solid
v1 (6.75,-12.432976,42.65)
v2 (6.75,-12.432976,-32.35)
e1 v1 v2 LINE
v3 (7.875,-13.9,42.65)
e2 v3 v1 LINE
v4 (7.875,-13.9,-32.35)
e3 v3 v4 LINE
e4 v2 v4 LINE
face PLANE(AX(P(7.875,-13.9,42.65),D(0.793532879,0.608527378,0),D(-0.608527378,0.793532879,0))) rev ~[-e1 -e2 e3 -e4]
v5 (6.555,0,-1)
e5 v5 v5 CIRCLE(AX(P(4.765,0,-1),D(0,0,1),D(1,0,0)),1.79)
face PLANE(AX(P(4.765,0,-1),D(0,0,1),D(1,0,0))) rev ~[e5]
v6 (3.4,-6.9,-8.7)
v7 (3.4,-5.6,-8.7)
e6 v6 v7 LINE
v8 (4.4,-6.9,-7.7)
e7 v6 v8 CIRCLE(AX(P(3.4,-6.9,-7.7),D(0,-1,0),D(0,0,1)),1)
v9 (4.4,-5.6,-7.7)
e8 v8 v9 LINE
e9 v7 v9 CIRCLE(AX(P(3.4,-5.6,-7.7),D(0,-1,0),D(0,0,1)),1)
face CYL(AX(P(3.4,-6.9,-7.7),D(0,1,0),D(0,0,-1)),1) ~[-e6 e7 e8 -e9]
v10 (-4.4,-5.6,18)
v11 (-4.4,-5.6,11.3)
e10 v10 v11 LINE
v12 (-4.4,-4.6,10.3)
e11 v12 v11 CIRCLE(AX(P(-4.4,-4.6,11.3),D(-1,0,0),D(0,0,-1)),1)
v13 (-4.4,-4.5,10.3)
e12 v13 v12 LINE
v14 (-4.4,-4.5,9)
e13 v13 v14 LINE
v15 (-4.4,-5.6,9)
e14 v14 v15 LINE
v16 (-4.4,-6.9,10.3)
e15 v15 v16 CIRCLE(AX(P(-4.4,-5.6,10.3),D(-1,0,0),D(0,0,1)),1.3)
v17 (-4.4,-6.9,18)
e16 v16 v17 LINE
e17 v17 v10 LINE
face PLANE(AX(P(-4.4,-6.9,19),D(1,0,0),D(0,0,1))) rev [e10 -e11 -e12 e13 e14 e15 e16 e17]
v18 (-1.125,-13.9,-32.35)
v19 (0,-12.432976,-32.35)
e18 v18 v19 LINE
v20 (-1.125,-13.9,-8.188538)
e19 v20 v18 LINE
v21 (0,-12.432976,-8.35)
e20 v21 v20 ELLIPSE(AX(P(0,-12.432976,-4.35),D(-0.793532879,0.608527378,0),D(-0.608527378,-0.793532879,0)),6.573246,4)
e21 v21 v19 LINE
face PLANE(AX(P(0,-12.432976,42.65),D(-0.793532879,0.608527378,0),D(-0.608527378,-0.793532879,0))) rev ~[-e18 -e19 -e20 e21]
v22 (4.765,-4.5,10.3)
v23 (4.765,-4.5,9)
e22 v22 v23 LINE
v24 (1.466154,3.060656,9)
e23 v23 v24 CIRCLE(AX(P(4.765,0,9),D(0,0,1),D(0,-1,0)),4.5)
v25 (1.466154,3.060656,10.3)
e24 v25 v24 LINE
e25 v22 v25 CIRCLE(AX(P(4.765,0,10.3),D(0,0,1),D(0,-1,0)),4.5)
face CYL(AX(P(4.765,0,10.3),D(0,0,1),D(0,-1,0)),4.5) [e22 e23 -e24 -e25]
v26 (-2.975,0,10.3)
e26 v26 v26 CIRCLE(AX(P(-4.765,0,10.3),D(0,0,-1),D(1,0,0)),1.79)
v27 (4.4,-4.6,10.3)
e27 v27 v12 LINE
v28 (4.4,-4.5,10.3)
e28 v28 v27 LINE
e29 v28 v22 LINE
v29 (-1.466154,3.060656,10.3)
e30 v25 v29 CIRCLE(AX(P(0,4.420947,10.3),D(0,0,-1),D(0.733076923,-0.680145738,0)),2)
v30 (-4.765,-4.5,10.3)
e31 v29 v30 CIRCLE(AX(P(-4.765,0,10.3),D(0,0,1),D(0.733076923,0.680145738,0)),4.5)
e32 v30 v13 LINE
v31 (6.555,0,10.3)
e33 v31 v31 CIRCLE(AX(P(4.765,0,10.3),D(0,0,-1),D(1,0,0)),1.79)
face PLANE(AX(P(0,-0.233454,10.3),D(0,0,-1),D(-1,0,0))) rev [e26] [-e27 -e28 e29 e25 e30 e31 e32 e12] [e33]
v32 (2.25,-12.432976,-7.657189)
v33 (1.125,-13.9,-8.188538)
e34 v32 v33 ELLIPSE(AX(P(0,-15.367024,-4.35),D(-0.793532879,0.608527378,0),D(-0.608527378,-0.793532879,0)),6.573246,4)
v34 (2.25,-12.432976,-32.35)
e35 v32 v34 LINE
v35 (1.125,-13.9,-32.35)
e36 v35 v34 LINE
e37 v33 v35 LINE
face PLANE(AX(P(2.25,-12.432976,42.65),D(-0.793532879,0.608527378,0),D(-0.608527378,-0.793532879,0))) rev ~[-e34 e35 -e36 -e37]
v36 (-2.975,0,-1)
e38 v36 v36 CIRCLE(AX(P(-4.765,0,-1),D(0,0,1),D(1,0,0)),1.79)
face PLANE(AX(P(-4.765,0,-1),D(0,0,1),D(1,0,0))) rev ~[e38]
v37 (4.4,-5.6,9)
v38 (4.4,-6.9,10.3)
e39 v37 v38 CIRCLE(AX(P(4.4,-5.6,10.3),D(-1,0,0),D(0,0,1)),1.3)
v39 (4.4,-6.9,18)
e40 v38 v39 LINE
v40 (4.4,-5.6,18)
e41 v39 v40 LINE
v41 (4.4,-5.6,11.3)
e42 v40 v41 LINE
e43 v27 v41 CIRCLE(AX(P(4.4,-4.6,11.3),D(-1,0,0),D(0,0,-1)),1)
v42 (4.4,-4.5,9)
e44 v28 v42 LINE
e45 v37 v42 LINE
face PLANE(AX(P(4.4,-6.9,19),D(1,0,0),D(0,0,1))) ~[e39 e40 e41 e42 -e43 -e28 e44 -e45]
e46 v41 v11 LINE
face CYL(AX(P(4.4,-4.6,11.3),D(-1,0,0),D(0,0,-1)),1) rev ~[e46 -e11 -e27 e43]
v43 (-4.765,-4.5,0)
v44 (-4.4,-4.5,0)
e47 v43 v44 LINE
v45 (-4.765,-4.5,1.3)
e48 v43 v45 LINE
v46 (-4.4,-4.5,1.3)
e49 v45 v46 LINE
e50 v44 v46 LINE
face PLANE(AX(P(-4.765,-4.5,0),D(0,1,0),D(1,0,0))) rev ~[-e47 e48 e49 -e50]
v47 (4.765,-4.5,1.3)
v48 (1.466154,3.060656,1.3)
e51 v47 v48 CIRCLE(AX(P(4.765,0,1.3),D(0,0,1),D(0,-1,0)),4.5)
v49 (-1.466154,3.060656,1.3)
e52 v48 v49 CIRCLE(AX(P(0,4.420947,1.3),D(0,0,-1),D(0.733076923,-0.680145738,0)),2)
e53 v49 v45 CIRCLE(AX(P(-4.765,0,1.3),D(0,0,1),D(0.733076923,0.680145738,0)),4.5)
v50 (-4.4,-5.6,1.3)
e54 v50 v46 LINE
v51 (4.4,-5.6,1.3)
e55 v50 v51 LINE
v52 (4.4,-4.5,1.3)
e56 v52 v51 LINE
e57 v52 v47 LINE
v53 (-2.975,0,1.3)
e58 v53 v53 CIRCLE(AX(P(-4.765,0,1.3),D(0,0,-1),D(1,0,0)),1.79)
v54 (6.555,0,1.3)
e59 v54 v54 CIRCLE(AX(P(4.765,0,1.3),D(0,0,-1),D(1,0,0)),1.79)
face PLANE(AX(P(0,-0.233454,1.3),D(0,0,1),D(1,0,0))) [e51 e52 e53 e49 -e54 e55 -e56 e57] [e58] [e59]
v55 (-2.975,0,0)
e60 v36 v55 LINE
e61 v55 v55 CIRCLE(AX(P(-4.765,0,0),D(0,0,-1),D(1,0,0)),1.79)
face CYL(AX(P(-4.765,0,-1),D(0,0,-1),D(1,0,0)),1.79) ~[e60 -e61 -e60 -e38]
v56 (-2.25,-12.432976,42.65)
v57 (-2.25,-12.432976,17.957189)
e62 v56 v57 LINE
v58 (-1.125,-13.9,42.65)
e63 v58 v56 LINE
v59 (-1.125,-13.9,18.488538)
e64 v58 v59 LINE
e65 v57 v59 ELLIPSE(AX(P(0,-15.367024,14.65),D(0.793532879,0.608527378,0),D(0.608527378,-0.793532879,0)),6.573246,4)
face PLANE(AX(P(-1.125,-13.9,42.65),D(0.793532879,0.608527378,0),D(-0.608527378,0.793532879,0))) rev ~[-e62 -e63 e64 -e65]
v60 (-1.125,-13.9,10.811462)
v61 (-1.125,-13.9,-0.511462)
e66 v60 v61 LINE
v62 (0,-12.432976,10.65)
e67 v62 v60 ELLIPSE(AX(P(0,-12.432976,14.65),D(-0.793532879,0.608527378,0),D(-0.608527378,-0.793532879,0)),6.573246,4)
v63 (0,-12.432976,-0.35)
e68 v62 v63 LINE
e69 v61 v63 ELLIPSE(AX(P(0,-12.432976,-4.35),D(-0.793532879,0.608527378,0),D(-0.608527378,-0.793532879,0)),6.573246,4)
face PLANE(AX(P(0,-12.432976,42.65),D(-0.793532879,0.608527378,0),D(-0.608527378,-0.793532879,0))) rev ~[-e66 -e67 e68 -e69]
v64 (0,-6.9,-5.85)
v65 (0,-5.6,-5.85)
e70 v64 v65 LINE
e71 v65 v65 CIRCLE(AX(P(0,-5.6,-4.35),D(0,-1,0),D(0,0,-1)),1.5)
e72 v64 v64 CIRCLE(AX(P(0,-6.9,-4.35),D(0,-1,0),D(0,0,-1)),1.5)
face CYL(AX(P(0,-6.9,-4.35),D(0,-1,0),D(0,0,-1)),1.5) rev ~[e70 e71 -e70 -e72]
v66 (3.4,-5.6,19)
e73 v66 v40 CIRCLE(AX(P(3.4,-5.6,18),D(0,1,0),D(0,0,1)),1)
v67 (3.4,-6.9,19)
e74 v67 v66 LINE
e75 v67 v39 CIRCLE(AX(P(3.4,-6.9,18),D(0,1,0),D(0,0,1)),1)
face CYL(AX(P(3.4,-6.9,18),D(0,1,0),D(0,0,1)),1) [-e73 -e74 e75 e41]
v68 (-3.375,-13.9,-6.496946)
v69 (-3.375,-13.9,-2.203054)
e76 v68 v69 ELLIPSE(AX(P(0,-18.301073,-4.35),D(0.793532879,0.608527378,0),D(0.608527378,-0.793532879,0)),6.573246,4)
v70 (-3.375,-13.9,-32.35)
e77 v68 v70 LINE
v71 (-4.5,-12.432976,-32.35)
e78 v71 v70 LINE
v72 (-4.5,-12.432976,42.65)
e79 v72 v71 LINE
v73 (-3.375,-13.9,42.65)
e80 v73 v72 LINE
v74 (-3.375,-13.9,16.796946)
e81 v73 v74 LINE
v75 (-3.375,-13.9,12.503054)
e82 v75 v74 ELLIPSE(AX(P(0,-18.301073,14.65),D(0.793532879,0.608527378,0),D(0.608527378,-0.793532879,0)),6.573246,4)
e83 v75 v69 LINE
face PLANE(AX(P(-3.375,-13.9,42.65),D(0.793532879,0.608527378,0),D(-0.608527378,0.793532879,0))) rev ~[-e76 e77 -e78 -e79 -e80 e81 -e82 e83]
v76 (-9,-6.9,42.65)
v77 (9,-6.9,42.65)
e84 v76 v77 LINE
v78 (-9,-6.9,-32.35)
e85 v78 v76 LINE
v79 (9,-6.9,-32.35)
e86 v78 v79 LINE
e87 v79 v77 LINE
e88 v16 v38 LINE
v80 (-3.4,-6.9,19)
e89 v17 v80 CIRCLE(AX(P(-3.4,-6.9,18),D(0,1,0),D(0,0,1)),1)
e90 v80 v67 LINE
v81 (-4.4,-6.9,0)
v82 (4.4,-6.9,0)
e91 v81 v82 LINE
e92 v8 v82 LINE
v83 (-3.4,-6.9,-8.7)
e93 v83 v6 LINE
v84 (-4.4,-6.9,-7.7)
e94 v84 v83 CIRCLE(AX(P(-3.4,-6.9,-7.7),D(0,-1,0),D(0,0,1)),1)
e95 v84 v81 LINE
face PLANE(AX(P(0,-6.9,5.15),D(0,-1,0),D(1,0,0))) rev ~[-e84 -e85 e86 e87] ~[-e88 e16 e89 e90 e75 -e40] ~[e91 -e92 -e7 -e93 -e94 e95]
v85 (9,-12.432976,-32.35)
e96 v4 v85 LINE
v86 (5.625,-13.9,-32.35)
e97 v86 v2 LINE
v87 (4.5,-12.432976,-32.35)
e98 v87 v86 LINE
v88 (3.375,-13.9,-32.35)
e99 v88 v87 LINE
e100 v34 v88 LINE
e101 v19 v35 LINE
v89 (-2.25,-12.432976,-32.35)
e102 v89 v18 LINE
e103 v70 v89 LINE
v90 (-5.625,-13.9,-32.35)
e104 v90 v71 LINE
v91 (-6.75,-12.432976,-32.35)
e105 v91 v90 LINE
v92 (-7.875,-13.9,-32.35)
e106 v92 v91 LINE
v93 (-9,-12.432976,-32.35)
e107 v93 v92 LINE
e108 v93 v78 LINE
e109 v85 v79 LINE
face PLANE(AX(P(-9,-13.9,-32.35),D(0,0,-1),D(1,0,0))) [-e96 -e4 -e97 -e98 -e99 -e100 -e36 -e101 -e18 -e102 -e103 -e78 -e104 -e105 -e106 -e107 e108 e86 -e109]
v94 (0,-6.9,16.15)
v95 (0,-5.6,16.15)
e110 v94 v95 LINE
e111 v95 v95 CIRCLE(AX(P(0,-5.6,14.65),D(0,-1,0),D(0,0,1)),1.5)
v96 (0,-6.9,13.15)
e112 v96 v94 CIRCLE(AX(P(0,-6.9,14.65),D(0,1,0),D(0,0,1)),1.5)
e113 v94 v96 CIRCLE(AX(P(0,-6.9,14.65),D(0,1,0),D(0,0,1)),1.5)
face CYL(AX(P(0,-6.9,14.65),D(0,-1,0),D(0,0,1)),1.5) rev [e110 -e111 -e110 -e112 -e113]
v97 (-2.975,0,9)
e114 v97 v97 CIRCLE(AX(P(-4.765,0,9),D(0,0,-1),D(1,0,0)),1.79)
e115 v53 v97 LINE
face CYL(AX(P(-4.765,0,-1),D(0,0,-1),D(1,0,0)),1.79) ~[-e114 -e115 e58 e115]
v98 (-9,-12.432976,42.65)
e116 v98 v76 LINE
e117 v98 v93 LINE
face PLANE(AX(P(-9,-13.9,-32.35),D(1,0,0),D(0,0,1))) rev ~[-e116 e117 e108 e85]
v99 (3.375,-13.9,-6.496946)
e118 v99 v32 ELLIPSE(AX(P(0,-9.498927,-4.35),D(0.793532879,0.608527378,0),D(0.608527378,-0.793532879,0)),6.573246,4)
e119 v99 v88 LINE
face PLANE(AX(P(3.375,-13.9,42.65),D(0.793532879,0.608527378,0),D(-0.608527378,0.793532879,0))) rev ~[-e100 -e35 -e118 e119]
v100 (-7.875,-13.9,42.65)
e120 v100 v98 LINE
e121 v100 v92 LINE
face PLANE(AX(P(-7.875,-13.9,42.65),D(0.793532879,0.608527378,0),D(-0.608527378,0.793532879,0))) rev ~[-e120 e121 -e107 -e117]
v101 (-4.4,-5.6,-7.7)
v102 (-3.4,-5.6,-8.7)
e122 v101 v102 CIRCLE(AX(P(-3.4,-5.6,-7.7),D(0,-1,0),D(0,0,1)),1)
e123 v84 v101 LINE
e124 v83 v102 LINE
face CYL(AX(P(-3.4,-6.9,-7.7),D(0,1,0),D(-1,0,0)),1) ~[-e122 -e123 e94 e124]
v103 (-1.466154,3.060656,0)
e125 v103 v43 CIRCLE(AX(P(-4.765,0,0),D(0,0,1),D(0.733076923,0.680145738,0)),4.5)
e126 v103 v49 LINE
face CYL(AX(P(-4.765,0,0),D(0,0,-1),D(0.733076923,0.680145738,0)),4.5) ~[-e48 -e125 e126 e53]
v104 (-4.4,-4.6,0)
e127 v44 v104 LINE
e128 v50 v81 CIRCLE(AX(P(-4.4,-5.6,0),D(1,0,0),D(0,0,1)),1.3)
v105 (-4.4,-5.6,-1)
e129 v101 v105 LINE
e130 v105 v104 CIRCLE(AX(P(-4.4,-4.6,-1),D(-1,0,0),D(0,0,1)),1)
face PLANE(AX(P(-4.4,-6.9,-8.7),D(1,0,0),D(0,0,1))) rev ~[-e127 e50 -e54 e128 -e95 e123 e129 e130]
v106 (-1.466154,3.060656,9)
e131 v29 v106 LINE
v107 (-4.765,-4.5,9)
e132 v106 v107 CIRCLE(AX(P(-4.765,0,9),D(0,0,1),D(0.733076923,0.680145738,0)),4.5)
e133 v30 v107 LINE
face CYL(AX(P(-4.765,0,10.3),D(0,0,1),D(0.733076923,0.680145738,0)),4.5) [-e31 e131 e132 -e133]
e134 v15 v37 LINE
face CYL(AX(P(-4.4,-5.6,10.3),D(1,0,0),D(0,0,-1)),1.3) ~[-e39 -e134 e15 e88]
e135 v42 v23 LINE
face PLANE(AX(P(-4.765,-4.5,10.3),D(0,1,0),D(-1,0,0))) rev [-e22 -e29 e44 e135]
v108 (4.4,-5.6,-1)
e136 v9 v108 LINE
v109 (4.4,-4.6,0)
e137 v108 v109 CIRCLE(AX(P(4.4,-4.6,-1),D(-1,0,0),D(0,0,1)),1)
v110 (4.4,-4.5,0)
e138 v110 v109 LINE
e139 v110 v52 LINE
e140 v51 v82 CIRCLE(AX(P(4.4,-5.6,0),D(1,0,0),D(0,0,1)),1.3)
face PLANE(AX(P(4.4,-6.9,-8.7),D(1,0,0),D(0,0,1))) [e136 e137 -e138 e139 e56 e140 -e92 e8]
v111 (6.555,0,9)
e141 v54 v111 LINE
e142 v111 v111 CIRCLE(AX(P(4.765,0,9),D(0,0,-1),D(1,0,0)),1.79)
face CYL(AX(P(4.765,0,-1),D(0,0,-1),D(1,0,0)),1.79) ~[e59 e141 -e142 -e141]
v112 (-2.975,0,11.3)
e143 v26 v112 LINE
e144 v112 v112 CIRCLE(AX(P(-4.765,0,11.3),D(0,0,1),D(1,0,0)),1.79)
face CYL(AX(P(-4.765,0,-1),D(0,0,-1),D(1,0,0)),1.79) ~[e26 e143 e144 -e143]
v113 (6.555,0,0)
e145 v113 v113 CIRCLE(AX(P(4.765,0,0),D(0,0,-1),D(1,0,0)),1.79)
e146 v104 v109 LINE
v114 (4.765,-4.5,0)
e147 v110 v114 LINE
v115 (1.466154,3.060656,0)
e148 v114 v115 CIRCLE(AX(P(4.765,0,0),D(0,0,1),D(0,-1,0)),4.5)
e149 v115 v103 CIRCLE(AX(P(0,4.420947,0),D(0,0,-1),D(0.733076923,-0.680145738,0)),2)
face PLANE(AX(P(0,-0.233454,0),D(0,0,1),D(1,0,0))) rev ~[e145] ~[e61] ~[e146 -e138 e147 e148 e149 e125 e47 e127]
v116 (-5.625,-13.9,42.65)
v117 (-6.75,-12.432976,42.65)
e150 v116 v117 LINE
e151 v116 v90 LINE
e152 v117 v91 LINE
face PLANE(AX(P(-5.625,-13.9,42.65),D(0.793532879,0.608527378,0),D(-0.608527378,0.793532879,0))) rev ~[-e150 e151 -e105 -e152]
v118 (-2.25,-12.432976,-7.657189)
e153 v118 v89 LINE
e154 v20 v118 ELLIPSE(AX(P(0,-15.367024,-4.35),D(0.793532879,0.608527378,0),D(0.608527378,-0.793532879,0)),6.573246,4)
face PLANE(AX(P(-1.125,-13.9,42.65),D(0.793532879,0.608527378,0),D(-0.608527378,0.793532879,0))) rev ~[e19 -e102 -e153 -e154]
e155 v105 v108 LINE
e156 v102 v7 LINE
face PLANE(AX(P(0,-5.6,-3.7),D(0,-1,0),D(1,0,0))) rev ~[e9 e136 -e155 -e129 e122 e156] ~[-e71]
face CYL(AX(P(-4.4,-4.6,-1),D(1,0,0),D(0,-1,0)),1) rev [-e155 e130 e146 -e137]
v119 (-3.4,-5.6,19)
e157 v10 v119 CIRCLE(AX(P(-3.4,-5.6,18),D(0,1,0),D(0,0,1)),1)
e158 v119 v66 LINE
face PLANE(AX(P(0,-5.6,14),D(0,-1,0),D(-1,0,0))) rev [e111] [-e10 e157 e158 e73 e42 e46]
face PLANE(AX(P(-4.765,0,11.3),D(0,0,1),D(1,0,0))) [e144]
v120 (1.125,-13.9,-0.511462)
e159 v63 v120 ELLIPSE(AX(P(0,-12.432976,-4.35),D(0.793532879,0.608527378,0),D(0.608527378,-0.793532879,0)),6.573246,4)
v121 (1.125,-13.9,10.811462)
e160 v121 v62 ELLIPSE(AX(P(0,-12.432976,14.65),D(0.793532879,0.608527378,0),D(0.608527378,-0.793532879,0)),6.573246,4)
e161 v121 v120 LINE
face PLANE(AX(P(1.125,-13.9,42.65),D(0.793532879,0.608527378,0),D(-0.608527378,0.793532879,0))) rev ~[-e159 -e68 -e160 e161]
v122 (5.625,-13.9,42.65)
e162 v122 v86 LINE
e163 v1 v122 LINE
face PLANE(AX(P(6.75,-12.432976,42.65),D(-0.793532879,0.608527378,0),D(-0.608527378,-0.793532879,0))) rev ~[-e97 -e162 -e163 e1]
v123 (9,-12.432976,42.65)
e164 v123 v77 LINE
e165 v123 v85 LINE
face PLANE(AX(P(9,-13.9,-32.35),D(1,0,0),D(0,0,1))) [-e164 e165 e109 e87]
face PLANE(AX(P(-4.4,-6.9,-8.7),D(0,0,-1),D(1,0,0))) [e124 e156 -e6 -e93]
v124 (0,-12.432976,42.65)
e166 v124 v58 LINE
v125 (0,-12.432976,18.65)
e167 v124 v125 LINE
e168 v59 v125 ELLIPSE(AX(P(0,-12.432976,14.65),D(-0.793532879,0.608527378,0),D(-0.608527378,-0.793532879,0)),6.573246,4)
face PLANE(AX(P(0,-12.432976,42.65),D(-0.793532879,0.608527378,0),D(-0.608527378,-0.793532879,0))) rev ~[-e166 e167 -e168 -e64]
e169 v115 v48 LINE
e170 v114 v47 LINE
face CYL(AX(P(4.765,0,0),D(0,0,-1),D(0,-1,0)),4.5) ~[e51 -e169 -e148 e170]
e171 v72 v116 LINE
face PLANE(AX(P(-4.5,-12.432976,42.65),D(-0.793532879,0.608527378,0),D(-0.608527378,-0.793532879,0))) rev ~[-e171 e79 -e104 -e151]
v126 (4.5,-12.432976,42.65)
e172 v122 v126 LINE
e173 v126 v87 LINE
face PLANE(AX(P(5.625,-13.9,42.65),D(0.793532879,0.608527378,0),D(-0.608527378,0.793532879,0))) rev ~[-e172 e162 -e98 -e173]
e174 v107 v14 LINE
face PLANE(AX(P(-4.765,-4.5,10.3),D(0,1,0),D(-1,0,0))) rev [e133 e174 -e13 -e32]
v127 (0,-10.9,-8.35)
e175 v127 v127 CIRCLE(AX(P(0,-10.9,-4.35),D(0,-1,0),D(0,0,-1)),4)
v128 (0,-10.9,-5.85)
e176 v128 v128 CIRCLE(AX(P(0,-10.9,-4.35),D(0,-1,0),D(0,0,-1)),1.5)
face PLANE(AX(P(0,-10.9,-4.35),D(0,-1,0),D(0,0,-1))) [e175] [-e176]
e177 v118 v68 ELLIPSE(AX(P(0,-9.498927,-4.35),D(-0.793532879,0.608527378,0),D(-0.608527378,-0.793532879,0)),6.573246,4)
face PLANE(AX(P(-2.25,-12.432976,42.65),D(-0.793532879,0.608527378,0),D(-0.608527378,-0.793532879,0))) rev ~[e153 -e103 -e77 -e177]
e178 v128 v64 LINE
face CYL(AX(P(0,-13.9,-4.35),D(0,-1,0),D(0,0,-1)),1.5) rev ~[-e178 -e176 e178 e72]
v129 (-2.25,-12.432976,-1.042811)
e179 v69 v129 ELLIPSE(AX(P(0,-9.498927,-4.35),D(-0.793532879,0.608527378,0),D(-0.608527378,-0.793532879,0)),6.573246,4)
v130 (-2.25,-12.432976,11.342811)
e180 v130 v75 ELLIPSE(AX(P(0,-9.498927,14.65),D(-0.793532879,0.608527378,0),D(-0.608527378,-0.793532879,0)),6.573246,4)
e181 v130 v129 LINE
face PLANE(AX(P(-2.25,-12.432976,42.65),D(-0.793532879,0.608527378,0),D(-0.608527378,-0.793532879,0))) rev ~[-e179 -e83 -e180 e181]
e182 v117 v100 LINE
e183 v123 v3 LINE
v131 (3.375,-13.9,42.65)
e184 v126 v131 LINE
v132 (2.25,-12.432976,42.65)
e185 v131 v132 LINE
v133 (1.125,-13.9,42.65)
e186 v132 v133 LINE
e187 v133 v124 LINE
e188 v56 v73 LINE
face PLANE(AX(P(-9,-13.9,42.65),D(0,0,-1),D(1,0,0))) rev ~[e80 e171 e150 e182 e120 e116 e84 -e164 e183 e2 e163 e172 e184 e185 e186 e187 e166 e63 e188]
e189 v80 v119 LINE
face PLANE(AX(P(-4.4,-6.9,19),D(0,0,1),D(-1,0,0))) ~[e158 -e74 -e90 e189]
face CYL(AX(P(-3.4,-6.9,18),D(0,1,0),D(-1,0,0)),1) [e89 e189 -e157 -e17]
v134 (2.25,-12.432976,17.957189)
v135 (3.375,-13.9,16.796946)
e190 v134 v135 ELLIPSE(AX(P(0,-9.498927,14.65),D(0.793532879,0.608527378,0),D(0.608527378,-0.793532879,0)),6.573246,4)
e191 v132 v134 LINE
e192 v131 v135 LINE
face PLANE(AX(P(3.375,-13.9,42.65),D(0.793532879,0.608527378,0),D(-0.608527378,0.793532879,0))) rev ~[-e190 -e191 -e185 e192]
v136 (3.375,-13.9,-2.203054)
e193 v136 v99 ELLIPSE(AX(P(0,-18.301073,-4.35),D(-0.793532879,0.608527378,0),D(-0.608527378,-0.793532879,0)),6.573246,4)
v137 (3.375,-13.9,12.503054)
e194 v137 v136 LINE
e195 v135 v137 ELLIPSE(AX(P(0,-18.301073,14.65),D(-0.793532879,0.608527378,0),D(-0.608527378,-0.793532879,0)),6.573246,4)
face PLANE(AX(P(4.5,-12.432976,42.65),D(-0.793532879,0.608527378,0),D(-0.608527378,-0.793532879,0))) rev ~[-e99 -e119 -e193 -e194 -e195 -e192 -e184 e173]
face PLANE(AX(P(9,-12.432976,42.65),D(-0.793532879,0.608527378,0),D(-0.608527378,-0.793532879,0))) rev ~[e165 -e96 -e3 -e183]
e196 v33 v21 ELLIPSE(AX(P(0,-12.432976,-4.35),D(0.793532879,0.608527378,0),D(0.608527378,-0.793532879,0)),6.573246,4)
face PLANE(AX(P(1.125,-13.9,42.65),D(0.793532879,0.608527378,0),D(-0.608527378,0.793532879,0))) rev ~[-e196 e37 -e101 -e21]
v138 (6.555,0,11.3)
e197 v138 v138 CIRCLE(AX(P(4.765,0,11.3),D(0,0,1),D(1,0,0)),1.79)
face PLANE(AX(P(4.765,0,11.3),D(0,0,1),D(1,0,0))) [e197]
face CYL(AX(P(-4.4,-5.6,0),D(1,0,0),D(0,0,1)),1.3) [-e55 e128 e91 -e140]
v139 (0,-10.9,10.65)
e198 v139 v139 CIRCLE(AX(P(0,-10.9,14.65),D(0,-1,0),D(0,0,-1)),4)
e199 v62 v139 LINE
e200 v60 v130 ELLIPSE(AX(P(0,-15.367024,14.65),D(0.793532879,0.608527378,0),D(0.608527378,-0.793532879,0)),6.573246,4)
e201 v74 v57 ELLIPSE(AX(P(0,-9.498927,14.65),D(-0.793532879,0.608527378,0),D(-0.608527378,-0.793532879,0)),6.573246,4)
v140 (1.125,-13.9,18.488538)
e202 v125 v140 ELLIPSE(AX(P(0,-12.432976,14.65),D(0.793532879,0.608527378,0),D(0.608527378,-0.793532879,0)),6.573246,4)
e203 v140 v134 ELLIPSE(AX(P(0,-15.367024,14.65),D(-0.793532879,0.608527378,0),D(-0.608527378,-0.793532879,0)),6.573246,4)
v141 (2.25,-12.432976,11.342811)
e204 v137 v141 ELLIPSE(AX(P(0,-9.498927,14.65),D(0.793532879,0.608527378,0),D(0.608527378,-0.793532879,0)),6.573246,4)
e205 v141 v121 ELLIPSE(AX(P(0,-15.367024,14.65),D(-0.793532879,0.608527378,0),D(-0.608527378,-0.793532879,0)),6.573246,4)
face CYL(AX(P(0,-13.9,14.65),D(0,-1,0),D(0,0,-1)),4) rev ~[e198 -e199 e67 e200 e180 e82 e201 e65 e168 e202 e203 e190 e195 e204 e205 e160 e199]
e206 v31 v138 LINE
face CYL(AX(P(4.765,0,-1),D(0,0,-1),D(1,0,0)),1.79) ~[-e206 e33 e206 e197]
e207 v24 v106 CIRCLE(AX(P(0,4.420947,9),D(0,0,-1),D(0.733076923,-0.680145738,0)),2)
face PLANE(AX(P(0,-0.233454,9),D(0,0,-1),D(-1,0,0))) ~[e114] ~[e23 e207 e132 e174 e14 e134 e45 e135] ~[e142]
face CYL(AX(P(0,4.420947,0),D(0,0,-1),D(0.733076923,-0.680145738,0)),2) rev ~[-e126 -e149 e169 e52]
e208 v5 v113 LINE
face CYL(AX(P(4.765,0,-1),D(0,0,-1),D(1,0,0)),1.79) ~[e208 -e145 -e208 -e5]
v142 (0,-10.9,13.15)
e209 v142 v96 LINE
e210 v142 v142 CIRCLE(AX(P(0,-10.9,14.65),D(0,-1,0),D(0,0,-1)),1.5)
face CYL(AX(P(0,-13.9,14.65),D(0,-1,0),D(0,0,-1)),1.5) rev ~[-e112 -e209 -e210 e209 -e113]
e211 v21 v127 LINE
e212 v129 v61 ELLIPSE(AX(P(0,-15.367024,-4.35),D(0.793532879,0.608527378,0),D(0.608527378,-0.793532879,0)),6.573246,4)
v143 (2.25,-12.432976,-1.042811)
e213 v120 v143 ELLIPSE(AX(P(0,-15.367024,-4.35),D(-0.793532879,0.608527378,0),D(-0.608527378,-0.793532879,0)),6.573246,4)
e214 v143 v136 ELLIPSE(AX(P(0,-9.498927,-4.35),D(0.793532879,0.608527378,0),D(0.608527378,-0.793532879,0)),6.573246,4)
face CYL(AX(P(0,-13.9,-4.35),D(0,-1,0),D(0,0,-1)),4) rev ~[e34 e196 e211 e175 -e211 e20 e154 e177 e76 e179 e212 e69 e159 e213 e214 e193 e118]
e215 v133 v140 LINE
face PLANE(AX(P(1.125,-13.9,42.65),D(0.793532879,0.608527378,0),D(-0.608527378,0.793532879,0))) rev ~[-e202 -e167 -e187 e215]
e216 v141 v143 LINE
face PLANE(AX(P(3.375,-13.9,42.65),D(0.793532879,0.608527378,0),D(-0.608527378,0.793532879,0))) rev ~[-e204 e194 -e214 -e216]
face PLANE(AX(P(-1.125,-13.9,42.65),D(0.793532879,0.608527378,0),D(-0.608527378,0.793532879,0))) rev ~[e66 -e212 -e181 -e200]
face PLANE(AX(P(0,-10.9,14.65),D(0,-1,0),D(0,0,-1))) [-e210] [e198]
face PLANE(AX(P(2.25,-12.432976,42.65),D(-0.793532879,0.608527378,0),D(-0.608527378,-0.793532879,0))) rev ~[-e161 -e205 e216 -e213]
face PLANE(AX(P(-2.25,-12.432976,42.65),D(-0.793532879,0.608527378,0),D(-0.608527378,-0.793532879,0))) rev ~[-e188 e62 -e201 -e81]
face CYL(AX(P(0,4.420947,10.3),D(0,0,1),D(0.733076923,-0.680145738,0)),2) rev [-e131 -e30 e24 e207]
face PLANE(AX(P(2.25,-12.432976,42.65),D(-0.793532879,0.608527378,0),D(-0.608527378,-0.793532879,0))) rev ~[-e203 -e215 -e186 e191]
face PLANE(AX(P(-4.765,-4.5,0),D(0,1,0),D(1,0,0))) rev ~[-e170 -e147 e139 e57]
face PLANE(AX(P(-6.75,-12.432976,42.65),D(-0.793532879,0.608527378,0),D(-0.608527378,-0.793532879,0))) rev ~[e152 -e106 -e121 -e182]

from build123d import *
from build123d.topology import SkipClean

# Parameters (mm, degrees)
BOSS_EXTRUDE1_DEPTH      = 1.3
BOSS_EXTRUDE2_DEPTH      = 10
BOSS_EXTRUDE2_DEPTH_BACK = 2.3
SKETCH2_R                = 1.79
SKETCH4_W                = 8.8
SKETCH4_H                = 1.3
BOSS_EXTRUDE4_DEPTH      = 2.4
SKETCH3_W                = 8.8
SKETCH3_H                = 10
BOSS_EXTRUDE3_DEPTH      = 1.3
FILLET4_R                = 1.3
FILLET6_R                = 1
SKETCH5_R                = 1.5
CUT_EXTRUDE1_DEPTH       = 2.4
FILLET7_R                = 1
FILLET4_OF_MIRROR1_R     = 1.3
FILLET6_OF_MIRROR1_R     = 1
FILLET7_OF_MIRROR1_R     = 1
BOSS_EXTRUDE5_START      = 7
SKETCH6_W                = 18
SKETCH6_H                = 75
SKETCH6_R                = 1.5
BOSS_EXTRUDE5_DEPTH      = 7
SKETCH9_R                = 4
CUT_EXTRUDE3_DEPTH       = 3
CUT_EXTRUDE4_DEPTH       = 77.837817675


with BuildPart() as part:
    # Sketch1 → Boss-Extrude1 (new body)
    with BuildSketch(Plane.XY):
        with BuildLine():
            Line((-4.765, -4.5), (4.765, -4.5))
            ThreePointArc((4.765, -4.5), (8.889497011, 1.799590065), (1.466153846, 3.060655821))
            ThreePointArc((1.466153846, 3.060655821), (0, 2.420947297), (-1.466153846, 3.060655821))
            ThreePointArc((-1.466153846, 3.060655821), (-8.889497011, 1.799590065), (-4.765, -4.5))
        make_face()
    boss_extrude1 = extrude(amount=BOSS_EXTRUDE1_DEPTH)

    # Sketch2 → Boss-Extrude2 (add, two sides: drawn at the far end of the back side and taken through both)
    with BuildSketch(Plane.XY.offset(1.3).offset(-BOSS_EXTRUDE2_DEPTH_BACK)):
        with Locations((-4.765, 0)):
            Circle(SKETCH2_R)
        with Locations((4.765, 0)):
            Circle(SKETCH2_R)
    extrude(amount=BOSS_EXTRUDE2_DEPTH + BOSS_EXTRUDE2_DEPTH_BACK)

    # Sketch4 → Boss-Extrude4 (add)
    with BuildSketch(Plane.XZ.offset(4.5)):
        with Locations((0, 0.65)):
            Rectangle(SKETCH4_W, SKETCH4_H)
    boss_extrude4 = extrude(amount=BOSS_EXTRUDE4_DEPTH)

    # Sketch3 → Boss-Extrude3 (add)
    with BuildSketch(Plane.XZ.offset(6.9)):
        with Locations((0, -3.7)):
            Rectangle(SKETCH3_W, SKETCH3_H)
    boss_extrude3 = extrude(amount=-BOSS_EXTRUDE3_DEPTH)

    # Fillet4
    fillet4_edges = [part.edges().sort_by_distance(p)[0] for p in [
        (0, -6.9, 1.3),
    ]]
    fillet(fillet4_edges, radius=FILLET4_R)

    # Fillet6
    fillet6_edges = [part.edges().sort_by_distance(p)[0] for p in [
        (0, -5.6, 0),
    ]]
    fillet(fillet6_edges, radius=FILLET6_R)

    # Sketch5 → Cut-Extrude1 (cut)
    with BuildSketch(Plane.XZ.offset(6.9)):
        with Locations(Location((0, -4.35, 0), (0, 0, 270))):
            Circle(SKETCH5_R)
    cut_extrude1 = extrude(amount=-CUT_EXTRUDE1_DEPTH, mode=Mode.SUBTRACT)

    # Fillet7
    fillet7_edges = [part.edges().sort_by_distance(p)[0] for p in [
        (-4.4, -6.25, -8.7),
        (4.4, -6.25, -8.7),
    ]]
    fillet(fillet7_edges, radius=FILLET7_R)

    # Mirror1: Boss-Extrude1, Boss-Extrude4, Boss-Extrude3, Cut-Extrude1 across plane
    add(boss_extrude1.mirror(Plane(origin=(0, 0, 5.15), x_dir=(1, 0, 0), z_dir=(0, 0, -1))))
    add(boss_extrude4.mirror(Plane(origin=(0, 0, 5.15), x_dir=(1, 0, 0), z_dir=(0, 0, -1))))
    add(boss_extrude3.mirror(Plane(origin=(0, 0, 5.15), x_dir=(1, 0, 0), z_dir=(0, 0, -1))))
    add(cut_extrude1.mirror(Plane(origin=(0, 0, 5.15), x_dir=(1, 0, 0), z_dir=(0, 0, -1))), mode=Mode.SUBTRACT)

    # Fillet4 of Mirror1
    fillet4_of_mirror1_edges = [part.edges().sort_by_distance(p)[0] for p in [
        (0, -6.9, 9),
    ]]
    fillet(fillet4_of_mirror1_edges, radius=FILLET4_OF_MIRROR1_R)

    # Fillet6 of Mirror1
    fillet6_of_mirror1_edges = [part.edges().sort_by_distance(p)[0] for p in [
        (0, -5.6, 10.3),
    ]]
    fillet(fillet6_of_mirror1_edges, radius=FILLET6_OF_MIRROR1_R)

    # Fillet7 of Mirror1
    fillet7_of_mirror1_edges = [part.edges().sort_by_distance(p)[0] for p in [
        (-4.4, -6.25, 19),
        (4.4, -6.25, 19),
    ]]
    fillet(fillet7_of_mirror1_edges, radius=FILLET7_OF_MIRROR1_R)

    # Sketch6 → Boss-Extrude5 (add)
    with SkipClean():  # the faces are left unmerged after this step: merging them gives an invalid solid
        with BuildSketch(Plane.XZ.offset(6.9).offset(BOSS_EXTRUDE5_START)):
            with Locations((0, 5.15)):
                Rectangle(SKETCH6_W, SKETCH6_H)
            with Locations(Location((0, 14.65, 0), (0, 0, 270))):
                Circle(SKETCH6_R, mode=Mode.SUBTRACT)
            with Locations(Location((0, -4.35, 0), (0, 0, 270))):
                Circle(SKETCH6_R, mode=Mode.SUBTRACT)
        extrude(amount=-BOSS_EXTRUDE5_DEPTH)

    # Sketch9 → Cut-Extrude3 (cut)
    with SkipClean():  # the faces are left unmerged after this step: merging them gives an invalid solid
        with BuildSketch(Plane.XZ.offset(13.9)):
            with Locations(Location((0, 14.65, 0), (0, 0, 270))):
                Circle(SKETCH9_R)
            with Locations(Location((0, -4.35, 0), (0, 0, 270))):
                Circle(SKETCH9_R)
        extrude(amount=-CUT_EXTRUDE3_DEPTH, mode=Mode.SUBTRACT)

    # Sketch11 → Cut-Extrude4 (cut, through all)
    with SkipClean():  # the faces are left unmerged after this step: merging them gives an invalid solid
        with BuildSketch(Plane.XY.offset(42.65)):
            Polygon((9, -12.432975638), (7.875, -13.9), (6.75, -12.432975638), (5.625, -13.9), (4.5, -12.432975638), (3.375, -13.9), (2.25, -12.432975638), (1.125, -13.9), (0, -12.432975638), (-1.125, -13.9), (-2.25, -12.432975638), (-3.375, -13.9), (-4.5, -12.432975638), (-5.625, -13.9), (-6.75, -12.432975638), (-7.875, -13.9), (-9, -12.432975638), (-9, -14.9), (9, -14.9), align=None)
        extrude(amount=-CUT_EXTRUDE4_DEPTH, mode=Mode.SUBTRACT)


solid = part.part
